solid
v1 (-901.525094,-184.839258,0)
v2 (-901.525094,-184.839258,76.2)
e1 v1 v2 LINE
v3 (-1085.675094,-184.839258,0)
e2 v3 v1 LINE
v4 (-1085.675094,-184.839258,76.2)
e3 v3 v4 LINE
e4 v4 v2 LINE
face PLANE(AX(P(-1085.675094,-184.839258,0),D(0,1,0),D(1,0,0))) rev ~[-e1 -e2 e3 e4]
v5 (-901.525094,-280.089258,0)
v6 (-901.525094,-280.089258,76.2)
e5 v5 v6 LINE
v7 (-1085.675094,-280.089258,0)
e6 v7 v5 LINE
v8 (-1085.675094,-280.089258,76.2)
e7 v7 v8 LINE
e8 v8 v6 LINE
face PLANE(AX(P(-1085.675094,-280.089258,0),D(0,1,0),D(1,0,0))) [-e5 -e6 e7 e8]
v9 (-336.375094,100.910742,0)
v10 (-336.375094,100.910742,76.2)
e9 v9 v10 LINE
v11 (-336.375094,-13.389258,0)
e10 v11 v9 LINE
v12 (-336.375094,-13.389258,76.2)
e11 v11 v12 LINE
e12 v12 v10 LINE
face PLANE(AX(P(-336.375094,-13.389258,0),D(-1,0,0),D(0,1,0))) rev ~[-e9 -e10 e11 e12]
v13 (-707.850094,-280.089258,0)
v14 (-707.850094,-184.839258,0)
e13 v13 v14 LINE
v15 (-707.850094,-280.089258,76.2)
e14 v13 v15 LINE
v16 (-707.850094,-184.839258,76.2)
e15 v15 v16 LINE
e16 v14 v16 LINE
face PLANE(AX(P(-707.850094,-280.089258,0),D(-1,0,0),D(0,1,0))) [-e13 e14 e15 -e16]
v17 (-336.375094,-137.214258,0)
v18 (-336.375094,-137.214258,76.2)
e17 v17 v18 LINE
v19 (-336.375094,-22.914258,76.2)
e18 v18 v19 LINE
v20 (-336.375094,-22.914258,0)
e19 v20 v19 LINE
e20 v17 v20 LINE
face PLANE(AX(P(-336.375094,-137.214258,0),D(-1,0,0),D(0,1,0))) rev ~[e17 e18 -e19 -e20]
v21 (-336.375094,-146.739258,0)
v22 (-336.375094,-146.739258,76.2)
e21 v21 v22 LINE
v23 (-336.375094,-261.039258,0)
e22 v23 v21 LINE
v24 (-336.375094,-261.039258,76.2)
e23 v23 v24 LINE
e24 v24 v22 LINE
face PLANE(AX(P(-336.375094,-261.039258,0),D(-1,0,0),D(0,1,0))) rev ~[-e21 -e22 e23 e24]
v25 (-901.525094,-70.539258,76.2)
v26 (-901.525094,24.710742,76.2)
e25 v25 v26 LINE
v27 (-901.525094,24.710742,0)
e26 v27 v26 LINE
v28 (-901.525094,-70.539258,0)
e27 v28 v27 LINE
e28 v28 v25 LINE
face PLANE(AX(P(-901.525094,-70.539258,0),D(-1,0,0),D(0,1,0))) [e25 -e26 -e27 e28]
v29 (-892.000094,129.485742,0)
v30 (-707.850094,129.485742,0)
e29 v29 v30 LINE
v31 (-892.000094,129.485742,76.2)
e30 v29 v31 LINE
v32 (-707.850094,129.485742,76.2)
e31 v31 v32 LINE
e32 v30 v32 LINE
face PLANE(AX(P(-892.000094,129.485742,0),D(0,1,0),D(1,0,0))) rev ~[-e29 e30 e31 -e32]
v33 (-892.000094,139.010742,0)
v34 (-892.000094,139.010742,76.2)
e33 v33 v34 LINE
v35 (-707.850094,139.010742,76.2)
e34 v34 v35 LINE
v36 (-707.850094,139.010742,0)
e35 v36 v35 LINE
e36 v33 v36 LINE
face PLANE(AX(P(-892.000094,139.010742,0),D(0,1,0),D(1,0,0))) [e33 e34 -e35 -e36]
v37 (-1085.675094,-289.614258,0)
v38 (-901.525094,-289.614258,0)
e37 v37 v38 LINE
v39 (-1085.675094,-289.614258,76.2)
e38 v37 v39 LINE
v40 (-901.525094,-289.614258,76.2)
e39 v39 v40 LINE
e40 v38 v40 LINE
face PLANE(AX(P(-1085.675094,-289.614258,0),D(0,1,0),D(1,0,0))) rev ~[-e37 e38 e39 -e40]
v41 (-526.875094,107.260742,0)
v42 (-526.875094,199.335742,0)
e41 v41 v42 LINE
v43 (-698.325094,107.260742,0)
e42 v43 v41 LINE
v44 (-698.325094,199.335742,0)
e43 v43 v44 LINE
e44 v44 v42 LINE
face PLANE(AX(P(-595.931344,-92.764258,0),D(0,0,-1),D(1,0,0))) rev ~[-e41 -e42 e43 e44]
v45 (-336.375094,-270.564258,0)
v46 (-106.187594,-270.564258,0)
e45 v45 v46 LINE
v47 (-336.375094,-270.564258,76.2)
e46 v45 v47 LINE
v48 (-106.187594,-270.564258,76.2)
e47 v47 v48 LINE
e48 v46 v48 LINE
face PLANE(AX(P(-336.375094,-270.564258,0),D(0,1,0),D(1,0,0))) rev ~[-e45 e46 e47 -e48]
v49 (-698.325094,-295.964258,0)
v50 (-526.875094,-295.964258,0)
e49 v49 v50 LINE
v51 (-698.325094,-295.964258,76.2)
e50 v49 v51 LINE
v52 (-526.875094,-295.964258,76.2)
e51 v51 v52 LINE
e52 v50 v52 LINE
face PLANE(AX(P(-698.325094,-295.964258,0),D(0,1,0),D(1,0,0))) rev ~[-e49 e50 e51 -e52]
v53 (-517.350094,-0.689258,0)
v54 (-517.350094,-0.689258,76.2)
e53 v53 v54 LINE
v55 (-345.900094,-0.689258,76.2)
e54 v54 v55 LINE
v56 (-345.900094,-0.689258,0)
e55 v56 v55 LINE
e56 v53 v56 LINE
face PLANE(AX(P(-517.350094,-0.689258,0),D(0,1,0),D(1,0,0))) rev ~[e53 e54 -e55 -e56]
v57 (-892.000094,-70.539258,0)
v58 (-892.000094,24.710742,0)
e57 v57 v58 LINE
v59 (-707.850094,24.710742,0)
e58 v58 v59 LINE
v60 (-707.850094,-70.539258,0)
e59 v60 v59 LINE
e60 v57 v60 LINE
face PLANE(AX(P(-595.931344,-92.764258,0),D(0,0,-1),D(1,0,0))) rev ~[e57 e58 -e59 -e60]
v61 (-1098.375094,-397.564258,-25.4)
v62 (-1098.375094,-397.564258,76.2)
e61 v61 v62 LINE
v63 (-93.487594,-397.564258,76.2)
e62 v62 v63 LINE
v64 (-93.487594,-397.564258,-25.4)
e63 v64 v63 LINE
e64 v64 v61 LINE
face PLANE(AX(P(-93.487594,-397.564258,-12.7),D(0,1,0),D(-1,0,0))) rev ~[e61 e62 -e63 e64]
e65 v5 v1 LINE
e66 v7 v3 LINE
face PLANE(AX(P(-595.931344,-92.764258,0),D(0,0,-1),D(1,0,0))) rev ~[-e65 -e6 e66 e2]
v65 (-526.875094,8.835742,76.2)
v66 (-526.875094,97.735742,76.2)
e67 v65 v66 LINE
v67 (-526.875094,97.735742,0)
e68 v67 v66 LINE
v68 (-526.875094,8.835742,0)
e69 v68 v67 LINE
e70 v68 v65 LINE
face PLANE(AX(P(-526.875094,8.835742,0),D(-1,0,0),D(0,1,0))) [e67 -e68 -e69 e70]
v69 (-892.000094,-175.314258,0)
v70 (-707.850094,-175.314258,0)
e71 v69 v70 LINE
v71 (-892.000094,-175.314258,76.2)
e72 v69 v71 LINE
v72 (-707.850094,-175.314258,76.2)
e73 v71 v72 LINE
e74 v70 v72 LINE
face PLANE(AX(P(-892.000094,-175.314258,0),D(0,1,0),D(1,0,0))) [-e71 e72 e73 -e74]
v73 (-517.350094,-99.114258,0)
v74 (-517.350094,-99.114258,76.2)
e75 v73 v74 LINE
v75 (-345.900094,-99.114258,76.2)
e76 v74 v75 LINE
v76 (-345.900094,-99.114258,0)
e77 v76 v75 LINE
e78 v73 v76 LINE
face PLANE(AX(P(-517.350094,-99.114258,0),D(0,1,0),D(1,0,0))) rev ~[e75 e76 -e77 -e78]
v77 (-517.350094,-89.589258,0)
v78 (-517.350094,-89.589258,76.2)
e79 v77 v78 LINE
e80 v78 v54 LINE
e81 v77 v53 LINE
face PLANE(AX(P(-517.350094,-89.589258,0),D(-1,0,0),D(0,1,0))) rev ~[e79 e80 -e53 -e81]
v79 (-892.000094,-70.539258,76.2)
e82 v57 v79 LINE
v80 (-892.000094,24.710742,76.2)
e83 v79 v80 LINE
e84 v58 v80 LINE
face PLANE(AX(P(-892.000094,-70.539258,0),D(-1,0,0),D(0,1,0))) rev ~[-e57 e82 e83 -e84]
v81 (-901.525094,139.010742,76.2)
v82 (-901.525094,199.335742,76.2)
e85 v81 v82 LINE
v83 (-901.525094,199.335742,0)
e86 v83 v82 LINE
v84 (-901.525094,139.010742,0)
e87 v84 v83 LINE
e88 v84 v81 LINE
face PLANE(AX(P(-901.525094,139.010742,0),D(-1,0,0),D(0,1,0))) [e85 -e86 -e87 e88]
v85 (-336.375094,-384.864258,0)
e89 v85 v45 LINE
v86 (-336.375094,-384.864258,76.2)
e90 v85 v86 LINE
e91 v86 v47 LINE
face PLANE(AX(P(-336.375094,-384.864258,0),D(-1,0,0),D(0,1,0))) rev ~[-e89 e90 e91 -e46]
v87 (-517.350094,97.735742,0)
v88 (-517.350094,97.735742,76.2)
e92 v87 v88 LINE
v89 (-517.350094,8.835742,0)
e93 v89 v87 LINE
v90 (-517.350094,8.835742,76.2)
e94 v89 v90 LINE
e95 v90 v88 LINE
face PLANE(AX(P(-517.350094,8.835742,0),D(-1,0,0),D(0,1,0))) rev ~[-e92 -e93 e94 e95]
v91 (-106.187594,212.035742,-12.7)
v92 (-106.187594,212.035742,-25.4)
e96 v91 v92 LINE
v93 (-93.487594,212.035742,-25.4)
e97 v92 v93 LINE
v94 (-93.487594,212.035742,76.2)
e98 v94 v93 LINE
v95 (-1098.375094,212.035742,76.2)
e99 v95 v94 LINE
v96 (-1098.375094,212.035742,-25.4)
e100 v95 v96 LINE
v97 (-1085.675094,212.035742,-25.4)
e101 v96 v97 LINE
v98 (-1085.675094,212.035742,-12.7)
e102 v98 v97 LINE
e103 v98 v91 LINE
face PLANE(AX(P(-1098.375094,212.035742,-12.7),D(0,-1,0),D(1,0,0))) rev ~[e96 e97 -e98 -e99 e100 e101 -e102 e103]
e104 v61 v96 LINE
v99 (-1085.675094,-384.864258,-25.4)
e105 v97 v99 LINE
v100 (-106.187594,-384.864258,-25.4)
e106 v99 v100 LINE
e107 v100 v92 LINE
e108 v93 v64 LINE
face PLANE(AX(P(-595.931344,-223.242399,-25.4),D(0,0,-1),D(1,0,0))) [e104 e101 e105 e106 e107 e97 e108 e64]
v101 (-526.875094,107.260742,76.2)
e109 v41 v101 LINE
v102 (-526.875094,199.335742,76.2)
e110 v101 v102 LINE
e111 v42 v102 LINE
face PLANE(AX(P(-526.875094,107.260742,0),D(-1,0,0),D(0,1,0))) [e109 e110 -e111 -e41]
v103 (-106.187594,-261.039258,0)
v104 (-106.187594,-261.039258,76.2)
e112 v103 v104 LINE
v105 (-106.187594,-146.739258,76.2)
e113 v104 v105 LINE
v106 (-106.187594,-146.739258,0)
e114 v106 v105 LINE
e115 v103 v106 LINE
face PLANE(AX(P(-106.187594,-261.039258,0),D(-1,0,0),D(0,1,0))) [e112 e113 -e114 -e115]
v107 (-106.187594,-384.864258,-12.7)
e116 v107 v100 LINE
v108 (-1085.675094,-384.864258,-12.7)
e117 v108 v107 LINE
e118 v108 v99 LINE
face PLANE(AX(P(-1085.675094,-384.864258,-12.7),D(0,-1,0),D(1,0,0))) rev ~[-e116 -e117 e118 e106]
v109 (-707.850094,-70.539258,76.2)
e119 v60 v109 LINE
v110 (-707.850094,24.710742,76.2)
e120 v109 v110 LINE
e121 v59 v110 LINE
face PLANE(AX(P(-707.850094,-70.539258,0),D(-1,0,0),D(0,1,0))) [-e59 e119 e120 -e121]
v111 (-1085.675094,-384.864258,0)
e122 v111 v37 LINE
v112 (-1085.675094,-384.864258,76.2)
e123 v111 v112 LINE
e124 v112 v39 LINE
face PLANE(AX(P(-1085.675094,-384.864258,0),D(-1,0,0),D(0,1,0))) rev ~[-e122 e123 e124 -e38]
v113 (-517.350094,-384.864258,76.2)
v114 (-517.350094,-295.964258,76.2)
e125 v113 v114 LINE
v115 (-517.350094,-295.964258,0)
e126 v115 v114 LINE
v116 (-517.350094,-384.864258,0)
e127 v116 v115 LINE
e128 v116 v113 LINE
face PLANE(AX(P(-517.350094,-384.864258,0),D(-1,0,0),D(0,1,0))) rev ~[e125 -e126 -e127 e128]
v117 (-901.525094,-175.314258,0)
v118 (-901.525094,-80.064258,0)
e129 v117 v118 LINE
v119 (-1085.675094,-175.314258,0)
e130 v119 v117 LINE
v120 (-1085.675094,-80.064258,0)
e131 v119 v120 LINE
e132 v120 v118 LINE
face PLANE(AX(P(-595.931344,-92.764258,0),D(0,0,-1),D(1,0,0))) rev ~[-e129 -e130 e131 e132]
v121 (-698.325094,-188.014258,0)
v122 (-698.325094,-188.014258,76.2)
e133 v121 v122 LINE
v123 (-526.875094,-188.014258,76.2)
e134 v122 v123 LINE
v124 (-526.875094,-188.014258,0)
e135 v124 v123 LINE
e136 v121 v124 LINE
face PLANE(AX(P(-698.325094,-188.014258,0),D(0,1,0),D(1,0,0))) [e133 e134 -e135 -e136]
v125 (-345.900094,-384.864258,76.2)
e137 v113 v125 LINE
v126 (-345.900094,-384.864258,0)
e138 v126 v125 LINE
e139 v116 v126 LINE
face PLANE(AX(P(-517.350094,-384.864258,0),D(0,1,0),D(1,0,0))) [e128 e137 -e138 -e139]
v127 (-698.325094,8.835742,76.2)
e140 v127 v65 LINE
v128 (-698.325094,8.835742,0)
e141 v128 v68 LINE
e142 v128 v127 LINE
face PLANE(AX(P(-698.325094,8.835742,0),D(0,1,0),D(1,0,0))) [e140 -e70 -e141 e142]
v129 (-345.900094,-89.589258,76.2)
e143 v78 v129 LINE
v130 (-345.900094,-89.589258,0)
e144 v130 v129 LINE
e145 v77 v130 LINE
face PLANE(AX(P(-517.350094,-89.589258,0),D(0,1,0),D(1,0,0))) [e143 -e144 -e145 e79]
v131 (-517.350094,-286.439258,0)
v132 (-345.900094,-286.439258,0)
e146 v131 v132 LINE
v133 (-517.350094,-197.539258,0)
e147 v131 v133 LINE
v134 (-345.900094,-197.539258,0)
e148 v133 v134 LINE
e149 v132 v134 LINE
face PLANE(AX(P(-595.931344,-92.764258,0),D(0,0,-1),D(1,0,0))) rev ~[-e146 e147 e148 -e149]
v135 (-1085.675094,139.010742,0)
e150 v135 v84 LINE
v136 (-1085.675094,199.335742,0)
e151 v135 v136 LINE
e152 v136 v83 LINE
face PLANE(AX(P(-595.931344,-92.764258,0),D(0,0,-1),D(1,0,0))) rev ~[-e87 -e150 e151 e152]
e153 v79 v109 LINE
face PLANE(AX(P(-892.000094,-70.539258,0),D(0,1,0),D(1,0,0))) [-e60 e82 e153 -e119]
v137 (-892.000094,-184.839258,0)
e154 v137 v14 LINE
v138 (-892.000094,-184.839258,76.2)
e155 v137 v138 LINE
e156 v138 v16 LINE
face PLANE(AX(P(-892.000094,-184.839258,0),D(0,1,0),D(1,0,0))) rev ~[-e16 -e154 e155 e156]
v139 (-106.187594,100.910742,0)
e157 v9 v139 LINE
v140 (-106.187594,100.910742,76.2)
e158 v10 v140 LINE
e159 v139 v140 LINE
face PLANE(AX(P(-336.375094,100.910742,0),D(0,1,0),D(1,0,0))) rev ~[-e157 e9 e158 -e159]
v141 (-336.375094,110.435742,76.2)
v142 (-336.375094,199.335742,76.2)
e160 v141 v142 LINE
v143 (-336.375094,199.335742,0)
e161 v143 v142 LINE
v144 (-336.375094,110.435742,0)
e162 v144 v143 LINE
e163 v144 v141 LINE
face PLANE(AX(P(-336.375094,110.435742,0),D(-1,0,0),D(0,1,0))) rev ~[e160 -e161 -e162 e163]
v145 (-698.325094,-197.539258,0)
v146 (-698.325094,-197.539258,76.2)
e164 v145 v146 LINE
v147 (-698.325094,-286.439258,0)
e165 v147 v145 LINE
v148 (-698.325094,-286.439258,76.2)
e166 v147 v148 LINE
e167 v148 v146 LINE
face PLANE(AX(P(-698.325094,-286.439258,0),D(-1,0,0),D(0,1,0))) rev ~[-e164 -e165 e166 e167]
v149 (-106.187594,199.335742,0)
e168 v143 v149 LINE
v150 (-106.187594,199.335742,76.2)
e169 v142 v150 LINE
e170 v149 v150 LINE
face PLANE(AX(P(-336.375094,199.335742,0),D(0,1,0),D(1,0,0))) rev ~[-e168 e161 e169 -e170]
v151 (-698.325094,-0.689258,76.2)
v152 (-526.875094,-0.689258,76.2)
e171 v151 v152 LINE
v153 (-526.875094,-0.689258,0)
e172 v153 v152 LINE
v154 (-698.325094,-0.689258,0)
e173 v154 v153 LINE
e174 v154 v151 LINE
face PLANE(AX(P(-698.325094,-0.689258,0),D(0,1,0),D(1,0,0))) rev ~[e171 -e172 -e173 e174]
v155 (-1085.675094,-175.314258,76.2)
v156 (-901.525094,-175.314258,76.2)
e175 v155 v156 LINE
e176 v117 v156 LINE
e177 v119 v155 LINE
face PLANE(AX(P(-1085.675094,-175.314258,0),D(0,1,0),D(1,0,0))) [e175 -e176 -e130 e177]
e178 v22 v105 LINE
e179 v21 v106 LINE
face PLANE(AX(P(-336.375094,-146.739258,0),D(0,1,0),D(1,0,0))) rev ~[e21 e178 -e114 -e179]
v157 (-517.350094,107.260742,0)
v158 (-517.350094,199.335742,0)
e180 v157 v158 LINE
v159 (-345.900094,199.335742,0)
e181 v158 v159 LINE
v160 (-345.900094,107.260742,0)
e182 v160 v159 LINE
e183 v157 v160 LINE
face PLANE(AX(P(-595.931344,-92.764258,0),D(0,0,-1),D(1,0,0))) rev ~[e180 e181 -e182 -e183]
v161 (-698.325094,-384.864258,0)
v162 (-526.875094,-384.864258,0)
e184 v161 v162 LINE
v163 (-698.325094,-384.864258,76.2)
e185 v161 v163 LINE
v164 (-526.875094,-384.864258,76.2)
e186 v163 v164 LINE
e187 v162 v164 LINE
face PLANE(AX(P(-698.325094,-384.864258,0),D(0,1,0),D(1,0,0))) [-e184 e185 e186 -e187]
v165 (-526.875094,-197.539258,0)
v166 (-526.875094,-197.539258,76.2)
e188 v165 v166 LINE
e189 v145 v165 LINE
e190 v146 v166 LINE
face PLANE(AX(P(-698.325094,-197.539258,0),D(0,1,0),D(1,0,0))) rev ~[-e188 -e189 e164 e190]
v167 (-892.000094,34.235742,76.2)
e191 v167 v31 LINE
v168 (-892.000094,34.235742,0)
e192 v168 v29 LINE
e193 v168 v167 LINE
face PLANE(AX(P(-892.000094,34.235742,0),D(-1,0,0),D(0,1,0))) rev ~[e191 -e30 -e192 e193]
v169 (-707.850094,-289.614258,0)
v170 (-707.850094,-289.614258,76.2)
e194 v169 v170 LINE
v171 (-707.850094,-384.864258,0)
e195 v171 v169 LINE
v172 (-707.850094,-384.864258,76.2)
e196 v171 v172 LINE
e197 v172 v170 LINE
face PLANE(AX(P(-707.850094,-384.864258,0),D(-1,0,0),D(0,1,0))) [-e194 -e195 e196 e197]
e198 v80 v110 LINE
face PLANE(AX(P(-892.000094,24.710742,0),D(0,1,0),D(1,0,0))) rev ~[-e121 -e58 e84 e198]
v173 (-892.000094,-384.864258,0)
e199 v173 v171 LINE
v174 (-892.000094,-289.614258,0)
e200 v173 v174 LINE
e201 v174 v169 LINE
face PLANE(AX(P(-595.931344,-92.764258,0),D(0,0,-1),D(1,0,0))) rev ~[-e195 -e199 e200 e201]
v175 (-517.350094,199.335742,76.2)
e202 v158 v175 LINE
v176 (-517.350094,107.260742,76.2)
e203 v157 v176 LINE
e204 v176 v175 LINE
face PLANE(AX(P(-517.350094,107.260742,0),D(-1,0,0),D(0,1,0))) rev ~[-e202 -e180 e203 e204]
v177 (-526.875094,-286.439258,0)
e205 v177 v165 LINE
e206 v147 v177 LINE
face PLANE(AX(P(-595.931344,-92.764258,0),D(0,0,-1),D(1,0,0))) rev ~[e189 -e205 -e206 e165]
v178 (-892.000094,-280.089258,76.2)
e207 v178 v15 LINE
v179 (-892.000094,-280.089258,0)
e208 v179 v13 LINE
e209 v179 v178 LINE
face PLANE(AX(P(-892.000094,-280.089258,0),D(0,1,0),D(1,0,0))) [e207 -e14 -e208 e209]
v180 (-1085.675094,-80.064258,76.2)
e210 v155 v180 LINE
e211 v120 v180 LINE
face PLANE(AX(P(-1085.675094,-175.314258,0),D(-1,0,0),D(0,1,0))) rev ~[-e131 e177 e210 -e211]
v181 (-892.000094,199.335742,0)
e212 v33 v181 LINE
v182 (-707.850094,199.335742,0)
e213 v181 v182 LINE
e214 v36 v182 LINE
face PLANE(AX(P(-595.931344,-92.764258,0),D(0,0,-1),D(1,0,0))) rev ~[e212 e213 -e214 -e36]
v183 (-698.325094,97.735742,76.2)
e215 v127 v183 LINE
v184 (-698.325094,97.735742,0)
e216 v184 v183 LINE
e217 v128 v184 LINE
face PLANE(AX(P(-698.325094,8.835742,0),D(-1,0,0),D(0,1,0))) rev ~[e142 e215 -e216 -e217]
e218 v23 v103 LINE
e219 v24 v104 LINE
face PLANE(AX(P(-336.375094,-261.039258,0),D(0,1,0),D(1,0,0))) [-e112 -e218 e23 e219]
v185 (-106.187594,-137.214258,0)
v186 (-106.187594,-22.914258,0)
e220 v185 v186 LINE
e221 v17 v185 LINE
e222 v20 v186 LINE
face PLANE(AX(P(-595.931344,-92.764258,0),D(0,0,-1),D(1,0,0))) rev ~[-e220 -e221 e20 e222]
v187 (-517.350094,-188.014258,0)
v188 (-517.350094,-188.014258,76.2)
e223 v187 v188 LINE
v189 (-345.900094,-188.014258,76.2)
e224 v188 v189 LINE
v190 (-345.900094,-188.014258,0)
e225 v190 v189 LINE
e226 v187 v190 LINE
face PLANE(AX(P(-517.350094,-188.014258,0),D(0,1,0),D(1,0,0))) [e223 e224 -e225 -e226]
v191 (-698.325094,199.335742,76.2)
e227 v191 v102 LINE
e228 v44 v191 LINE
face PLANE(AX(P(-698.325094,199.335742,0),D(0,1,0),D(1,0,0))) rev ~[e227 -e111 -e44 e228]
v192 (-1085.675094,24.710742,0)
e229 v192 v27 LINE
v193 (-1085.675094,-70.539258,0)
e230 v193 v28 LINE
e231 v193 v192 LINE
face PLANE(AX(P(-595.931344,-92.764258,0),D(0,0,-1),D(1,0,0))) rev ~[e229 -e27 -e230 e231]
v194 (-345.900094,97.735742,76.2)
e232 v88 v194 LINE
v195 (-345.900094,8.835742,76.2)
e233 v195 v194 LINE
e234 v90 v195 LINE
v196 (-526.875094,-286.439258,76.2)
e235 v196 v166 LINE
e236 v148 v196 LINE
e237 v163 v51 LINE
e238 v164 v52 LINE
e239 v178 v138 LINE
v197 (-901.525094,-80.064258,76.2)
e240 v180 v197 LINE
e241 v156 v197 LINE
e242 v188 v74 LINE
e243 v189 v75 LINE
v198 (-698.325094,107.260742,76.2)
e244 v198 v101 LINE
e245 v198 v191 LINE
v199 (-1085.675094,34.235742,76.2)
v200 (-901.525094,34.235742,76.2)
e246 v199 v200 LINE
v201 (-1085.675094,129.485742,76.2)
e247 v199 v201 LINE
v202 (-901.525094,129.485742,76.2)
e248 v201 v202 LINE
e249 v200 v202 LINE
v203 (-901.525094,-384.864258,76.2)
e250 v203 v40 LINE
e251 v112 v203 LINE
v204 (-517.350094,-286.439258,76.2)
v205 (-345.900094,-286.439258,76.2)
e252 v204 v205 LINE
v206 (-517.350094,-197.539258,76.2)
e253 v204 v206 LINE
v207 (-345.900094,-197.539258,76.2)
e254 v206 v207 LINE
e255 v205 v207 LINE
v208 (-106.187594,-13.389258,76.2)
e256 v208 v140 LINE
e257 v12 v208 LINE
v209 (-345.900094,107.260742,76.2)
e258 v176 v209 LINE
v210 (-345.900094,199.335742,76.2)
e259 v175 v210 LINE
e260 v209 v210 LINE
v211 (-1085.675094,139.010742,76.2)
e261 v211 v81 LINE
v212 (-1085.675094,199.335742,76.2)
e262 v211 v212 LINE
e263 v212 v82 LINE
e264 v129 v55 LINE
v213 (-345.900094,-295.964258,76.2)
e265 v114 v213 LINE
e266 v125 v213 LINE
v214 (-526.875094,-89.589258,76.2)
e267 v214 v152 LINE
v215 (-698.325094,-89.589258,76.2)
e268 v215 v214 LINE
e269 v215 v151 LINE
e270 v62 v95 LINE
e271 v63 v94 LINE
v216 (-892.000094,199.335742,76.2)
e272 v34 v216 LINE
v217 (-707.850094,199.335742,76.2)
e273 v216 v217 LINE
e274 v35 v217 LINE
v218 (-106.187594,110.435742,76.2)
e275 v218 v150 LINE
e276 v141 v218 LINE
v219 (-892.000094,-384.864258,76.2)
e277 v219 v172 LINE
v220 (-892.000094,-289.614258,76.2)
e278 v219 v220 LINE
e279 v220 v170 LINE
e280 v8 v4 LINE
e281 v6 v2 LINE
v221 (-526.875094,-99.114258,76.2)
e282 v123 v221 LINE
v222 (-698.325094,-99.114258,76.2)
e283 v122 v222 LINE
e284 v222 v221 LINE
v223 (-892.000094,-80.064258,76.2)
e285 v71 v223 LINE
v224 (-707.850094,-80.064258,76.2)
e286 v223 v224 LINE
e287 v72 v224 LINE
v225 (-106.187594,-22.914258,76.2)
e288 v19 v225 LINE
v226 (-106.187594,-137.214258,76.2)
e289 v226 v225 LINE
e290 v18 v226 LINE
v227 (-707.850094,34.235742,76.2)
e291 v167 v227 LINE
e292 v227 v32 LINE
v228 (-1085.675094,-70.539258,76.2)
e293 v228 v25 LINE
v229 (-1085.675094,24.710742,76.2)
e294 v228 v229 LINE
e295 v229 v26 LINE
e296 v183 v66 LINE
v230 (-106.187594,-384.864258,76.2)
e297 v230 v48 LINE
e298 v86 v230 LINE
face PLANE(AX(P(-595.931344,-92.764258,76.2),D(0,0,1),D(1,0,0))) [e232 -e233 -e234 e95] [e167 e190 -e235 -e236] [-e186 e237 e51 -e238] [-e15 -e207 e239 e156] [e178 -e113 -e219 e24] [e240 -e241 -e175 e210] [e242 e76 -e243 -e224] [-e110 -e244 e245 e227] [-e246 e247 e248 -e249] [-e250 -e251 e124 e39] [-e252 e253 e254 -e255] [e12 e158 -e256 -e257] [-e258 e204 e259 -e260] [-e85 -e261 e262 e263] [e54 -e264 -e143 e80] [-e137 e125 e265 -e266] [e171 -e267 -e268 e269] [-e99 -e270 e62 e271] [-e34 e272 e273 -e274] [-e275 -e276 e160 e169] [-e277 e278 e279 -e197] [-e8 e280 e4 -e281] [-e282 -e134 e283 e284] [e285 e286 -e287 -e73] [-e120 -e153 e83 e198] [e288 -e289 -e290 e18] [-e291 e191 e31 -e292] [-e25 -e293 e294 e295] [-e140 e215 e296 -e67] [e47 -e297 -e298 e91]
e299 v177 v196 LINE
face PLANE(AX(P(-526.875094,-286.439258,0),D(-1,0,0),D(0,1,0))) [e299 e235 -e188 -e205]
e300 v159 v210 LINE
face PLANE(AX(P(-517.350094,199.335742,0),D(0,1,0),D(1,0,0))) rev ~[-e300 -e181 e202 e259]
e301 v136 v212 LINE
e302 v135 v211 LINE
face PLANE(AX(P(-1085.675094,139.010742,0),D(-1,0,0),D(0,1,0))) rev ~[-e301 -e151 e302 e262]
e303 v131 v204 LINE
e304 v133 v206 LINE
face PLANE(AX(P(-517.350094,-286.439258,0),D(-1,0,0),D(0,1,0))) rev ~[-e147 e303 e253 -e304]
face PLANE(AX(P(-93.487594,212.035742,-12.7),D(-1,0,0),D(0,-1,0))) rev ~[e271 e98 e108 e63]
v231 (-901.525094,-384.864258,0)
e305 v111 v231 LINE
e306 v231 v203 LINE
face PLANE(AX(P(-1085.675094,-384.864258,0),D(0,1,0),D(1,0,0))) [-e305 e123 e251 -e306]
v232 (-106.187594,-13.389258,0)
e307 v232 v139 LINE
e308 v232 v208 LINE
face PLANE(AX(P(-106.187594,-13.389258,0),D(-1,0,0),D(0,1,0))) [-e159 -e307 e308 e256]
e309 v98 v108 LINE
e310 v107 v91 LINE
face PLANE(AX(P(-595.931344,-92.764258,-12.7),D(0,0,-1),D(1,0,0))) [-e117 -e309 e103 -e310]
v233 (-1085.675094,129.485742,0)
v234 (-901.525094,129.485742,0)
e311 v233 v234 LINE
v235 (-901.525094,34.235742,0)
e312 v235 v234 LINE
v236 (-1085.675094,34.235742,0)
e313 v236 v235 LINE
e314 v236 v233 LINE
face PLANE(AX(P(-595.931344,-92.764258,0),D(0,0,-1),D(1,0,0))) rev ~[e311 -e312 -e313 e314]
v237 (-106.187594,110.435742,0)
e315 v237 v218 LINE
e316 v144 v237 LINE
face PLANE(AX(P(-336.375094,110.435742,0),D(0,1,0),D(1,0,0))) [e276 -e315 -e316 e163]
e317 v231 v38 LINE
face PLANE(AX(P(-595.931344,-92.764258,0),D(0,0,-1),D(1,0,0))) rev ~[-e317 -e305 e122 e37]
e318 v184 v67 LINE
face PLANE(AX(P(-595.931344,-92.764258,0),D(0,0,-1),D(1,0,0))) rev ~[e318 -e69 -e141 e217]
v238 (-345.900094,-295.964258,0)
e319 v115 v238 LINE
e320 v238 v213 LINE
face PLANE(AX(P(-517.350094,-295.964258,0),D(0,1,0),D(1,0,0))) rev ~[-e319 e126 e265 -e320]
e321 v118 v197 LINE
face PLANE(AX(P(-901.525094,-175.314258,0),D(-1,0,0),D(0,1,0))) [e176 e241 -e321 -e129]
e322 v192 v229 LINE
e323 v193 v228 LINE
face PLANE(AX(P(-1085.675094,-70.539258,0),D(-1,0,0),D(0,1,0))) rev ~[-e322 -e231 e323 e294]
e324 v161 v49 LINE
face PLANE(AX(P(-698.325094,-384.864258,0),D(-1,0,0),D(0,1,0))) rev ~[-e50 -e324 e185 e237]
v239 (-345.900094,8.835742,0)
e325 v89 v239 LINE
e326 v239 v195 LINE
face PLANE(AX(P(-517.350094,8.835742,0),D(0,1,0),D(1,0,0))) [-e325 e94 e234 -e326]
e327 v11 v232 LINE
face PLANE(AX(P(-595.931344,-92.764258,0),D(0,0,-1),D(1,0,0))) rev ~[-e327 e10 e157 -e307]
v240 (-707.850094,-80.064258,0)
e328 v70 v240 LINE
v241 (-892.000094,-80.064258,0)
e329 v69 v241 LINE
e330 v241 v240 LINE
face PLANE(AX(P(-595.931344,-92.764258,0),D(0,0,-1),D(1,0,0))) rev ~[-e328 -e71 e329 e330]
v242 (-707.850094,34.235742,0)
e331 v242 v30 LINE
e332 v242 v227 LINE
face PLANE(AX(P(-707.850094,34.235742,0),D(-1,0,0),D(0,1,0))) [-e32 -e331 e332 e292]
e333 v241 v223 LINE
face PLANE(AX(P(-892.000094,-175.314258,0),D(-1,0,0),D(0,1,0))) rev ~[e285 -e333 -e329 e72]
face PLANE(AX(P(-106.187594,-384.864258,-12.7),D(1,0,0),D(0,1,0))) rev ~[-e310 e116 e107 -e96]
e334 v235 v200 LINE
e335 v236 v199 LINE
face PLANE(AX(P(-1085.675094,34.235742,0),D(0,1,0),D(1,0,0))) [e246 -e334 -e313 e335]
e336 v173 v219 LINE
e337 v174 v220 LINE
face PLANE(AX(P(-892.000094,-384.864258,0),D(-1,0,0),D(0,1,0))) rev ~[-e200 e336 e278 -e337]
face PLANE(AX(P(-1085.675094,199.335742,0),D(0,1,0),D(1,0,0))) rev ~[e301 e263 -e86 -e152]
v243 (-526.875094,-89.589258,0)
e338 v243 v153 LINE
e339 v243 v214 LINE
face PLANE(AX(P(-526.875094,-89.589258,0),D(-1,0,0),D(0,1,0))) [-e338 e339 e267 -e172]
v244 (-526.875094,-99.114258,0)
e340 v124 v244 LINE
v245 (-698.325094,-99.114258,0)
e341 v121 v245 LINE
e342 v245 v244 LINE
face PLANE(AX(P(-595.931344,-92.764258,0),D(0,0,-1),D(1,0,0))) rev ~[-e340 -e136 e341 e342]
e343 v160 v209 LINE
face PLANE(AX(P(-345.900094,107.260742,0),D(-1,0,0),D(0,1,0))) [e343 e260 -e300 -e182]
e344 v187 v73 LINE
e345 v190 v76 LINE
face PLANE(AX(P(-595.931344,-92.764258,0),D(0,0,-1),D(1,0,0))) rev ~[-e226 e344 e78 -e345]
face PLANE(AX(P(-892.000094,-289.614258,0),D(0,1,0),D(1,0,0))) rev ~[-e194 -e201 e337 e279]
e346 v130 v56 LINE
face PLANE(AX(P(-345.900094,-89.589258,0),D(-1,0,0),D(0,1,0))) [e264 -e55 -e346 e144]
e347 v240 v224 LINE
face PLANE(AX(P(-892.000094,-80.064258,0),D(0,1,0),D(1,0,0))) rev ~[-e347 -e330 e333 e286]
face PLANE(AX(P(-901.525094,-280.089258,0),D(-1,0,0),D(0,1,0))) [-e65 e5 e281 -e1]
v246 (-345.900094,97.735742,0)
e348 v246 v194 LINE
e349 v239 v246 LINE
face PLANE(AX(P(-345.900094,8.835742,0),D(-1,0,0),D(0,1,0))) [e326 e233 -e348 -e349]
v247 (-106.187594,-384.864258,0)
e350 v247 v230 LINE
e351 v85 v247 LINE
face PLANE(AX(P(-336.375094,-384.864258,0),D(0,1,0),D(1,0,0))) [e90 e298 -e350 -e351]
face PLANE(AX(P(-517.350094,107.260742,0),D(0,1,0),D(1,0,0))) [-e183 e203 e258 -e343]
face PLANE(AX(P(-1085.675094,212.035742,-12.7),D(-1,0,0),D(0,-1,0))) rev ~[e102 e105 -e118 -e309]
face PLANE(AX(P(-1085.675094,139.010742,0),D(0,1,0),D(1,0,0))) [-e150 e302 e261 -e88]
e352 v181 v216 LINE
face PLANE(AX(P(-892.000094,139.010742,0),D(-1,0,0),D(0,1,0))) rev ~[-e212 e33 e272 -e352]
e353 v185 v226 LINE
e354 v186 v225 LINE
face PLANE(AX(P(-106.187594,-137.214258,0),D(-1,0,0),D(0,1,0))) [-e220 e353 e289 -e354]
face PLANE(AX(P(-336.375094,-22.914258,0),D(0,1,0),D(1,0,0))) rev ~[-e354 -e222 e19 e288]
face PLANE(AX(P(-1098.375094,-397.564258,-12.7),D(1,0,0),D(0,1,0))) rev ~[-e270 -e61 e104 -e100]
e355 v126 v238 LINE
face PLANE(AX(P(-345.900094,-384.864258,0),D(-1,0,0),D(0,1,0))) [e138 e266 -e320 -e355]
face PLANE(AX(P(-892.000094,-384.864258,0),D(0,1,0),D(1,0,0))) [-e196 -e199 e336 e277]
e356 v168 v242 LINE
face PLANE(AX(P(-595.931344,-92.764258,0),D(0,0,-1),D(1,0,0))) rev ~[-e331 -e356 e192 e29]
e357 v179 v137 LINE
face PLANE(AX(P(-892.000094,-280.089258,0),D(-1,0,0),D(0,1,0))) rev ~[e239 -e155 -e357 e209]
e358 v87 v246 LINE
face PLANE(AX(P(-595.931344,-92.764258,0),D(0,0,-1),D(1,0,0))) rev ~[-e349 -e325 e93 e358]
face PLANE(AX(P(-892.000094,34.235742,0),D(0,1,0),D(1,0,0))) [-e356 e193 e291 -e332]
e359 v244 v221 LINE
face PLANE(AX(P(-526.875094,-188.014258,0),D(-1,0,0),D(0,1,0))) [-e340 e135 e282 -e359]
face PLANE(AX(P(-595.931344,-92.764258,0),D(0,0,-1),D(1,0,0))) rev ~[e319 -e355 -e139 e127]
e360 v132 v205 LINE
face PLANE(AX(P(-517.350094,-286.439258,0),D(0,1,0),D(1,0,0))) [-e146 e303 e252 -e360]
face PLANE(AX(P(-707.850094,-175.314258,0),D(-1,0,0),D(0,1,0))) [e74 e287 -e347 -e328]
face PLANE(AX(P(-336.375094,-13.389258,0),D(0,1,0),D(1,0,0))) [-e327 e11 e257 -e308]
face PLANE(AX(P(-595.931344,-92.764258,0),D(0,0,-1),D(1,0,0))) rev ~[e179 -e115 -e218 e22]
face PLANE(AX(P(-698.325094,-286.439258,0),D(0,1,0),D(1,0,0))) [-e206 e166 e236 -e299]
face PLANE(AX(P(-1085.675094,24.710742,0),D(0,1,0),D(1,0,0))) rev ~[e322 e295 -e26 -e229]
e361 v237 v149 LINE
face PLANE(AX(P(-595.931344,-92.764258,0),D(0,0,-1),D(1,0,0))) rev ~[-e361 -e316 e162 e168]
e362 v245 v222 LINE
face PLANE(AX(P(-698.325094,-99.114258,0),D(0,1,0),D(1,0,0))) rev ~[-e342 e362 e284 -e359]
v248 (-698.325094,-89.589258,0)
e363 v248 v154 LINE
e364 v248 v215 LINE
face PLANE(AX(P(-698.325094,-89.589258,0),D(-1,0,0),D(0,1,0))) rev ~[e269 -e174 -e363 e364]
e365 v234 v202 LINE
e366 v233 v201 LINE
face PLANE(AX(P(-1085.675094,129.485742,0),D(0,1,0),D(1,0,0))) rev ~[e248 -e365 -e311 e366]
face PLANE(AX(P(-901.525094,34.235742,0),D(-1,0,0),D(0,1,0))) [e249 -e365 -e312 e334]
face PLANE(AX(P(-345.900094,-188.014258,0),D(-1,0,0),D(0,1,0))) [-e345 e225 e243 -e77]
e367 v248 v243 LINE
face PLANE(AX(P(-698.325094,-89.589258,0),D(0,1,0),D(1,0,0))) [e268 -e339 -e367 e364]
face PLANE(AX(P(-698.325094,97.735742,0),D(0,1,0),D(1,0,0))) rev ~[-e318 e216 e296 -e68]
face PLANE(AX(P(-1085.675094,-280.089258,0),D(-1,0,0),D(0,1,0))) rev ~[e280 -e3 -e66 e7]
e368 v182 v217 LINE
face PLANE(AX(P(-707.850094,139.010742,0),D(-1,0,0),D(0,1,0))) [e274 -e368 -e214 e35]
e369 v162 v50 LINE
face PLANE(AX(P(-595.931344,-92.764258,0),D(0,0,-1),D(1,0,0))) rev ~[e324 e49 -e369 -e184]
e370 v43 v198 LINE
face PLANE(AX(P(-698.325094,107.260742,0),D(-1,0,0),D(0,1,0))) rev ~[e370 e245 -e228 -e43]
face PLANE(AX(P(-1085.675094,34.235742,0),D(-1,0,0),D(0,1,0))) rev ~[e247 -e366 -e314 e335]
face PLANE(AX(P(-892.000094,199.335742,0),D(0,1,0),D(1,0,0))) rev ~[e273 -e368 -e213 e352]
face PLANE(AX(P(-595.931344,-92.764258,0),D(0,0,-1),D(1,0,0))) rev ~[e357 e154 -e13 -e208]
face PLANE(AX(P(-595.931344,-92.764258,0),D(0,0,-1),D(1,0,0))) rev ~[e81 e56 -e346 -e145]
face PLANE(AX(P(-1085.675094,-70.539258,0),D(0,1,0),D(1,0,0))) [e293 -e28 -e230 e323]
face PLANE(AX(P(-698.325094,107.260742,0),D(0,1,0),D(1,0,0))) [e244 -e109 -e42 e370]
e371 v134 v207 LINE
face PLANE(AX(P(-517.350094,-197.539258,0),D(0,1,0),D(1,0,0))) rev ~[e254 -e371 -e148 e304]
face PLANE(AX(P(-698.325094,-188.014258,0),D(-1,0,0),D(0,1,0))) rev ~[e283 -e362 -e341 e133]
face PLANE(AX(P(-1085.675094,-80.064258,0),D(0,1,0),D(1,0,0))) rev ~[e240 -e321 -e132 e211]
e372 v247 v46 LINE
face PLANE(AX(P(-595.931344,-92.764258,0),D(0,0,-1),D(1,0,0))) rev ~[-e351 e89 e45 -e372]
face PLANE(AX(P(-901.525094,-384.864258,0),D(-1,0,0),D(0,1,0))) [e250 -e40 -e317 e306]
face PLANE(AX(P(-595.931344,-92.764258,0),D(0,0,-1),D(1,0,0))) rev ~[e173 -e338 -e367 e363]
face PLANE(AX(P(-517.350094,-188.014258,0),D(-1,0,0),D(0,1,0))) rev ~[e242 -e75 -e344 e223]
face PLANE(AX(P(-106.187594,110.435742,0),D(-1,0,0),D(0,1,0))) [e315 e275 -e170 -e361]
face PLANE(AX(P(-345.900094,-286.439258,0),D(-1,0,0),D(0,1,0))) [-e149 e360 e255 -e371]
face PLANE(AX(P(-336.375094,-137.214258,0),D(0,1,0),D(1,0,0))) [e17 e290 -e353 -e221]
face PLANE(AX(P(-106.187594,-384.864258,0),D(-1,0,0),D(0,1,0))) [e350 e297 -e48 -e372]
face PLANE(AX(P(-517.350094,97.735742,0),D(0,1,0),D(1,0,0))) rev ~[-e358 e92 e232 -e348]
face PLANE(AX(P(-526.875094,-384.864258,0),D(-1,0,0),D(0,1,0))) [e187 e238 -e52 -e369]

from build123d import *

# Parameters (mm, degrees)
F0_W     = 1004.8875
F0_H     = 609.6
F0_W_2   = 184.15
F0_H_2   = 95.25
F0_W_3   = 171.45
F0_H_3   = 88.9
F0_W_4   = 230.1875
F0_H_4   = 114.3
F0_H_5   = 60.325
F0_H_6   = 92.075
F1_DEPTH = 76.2
F2_W     = 1004.8875
F2_H     = 609.6
F3_DEPTH = 12.7
F5_DEPTH = 12.7


with BuildPart() as f1:
    # F0 (on Top) → F1 (new body)
    with BuildSketch(Plane.XY):
        with Locations((-595.931344, -92.764258)):
            Rectangle(F0_W, F0_H)
        with Locations((-993.600094, -337.239258)):
            Rectangle(F0_W_2, F0_H_2, mode=Mode.SUBTRACT)
        with Locations((-799.925094, -337.239258)):
            Rectangle(F0_W_2, F0_H_2, mode=Mode.SUBTRACT)
        with Locations((-612.600094, -340.414258)):
            Rectangle(F0_W_3, F0_H_3, mode=Mode.SUBTRACT)
        with Locations((-993.600094, -232.464258)):
            Rectangle(F0_W_2, F0_H_2, mode=Mode.SUBTRACT)
        with Locations((-993.600094, -127.689258)):
            Rectangle(F0_W_2, F0_H_2, mode=Mode.SUBTRACT)
        with Locations((-799.925094, -232.464258)):
            Rectangle(F0_W_2, F0_H_2, mode=Mode.SUBTRACT)
        with Locations((-612.600094, -241.989258)):
            Rectangle(F0_W_3, F0_H_3, mode=Mode.SUBTRACT)
        with Locations((-799.925094, -127.689258)):
            Rectangle(F0_W_2, F0_H_2, mode=Mode.SUBTRACT)
        with Locations((-612.600094, -143.564258)):
            Rectangle(F0_W_3, F0_H_3, mode=Mode.SUBTRACT)
        with Locations((-431.625094, -340.414258)):
            Rectangle(F0_W_3, F0_H_3, mode=Mode.SUBTRACT)
        with Locations((-221.281344, -327.714258)):
            Rectangle(F0_W_4, F0_H_4, mode=Mode.SUBTRACT)
        with Locations((-431.625094, -241.989258)):
            Rectangle(F0_W_3, F0_H_3, mode=Mode.SUBTRACT)
        with Locations((-431.625094, -143.564258)):
            Rectangle(F0_W_3, F0_H_3, mode=Mode.SUBTRACT)
        with Locations((-221.281344, -203.889258)):
            Rectangle(F0_W_4, F0_H_4, mode=Mode.SUBTRACT)
        with Locations((-993.600094, -22.914258)):
            Rectangle(F0_W_2, F0_H_2, mode=Mode.SUBTRACT)
        with Locations((-799.925094, -22.914258)):
            Rectangle(F0_W_2, F0_H_2, mode=Mode.SUBTRACT)
        with Locations((-612.600094, -45.139258)):
            Rectangle(F0_W_3, F0_H_3, mode=Mode.SUBTRACT)
        with Locations((-612.600094, 53.285742)):
            Rectangle(F0_W_3, F0_H_3, mode=Mode.SUBTRACT)
        with Locations((-993.600094, 81.860742)):
            Rectangle(F0_W_2, F0_H_2, mode=Mode.SUBTRACT)
        with Locations((-993.600094, 169.173242)):
            Rectangle(F0_W_2, F0_H_5, mode=Mode.SUBTRACT)
        with Locations((-799.925094, 81.860742)):
            Rectangle(F0_W_2, F0_H_2, mode=Mode.SUBTRACT)
        with Locations((-799.925094, 169.173242)):
            Rectangle(F0_W_2, F0_H_5, mode=Mode.SUBTRACT)
        with Locations((-612.600094, 153.298242)):
            Rectangle(F0_W_3, F0_H_6, mode=Mode.SUBTRACT)
        with Locations((-431.625094, -45.139258)):
            Rectangle(F0_W_3, F0_H_3, mode=Mode.SUBTRACT)
        with Locations((-431.625094, 53.285742)):
            Rectangle(F0_W_3, F0_H_3, mode=Mode.SUBTRACT)
        with Locations((-221.281344, -80.064258)):
            Rectangle(F0_W_4, F0_H_4, mode=Mode.SUBTRACT)
        with Locations((-221.281344, 43.760742)):
            Rectangle(F0_W_4, F0_H_4, mode=Mode.SUBTRACT)
        with Locations((-431.625094, 153.298242)):
            Rectangle(F0_W_3, F0_H_6, mode=Mode.SUBTRACT)
        with Locations((-221.281344, 154.885742)):
            Rectangle(F0_W_4, F0_H_3, mode=Mode.SUBTRACT)
    extrude(amount=F1_DEPTH)

    # F2 (on face) → F3 (join)
    with BuildSketch(Plane(origin=(0, 0, 0), x_dir=(1, 0, 0), z_dir=(0, 0, -1))):
        with Locations((-595.931344, 92.764258)):
            Rectangle(F2_W, F2_H)
    extrude(amount=F3_DEPTH)

    # F4 (on face) → F5 (join)
    with BuildSketch(Plane(origin=(0, 0, -12.7), x_dir=(1, 0, 0), z_dir=(0, 0, -1))):
        Polygon((-1098.375094, 397.564258), (-1098.375094, -212.035742), (-1085.675094, -212.035742), (-1085.675094, 384.864258), (-106.187594, 384.864258), (-106.187594, -212.035742), (-93.487594, -212.035742), (-93.487594, 397.564258), align=None)
    extrude(amount=F5_DEPTH)


solid = f1.part
